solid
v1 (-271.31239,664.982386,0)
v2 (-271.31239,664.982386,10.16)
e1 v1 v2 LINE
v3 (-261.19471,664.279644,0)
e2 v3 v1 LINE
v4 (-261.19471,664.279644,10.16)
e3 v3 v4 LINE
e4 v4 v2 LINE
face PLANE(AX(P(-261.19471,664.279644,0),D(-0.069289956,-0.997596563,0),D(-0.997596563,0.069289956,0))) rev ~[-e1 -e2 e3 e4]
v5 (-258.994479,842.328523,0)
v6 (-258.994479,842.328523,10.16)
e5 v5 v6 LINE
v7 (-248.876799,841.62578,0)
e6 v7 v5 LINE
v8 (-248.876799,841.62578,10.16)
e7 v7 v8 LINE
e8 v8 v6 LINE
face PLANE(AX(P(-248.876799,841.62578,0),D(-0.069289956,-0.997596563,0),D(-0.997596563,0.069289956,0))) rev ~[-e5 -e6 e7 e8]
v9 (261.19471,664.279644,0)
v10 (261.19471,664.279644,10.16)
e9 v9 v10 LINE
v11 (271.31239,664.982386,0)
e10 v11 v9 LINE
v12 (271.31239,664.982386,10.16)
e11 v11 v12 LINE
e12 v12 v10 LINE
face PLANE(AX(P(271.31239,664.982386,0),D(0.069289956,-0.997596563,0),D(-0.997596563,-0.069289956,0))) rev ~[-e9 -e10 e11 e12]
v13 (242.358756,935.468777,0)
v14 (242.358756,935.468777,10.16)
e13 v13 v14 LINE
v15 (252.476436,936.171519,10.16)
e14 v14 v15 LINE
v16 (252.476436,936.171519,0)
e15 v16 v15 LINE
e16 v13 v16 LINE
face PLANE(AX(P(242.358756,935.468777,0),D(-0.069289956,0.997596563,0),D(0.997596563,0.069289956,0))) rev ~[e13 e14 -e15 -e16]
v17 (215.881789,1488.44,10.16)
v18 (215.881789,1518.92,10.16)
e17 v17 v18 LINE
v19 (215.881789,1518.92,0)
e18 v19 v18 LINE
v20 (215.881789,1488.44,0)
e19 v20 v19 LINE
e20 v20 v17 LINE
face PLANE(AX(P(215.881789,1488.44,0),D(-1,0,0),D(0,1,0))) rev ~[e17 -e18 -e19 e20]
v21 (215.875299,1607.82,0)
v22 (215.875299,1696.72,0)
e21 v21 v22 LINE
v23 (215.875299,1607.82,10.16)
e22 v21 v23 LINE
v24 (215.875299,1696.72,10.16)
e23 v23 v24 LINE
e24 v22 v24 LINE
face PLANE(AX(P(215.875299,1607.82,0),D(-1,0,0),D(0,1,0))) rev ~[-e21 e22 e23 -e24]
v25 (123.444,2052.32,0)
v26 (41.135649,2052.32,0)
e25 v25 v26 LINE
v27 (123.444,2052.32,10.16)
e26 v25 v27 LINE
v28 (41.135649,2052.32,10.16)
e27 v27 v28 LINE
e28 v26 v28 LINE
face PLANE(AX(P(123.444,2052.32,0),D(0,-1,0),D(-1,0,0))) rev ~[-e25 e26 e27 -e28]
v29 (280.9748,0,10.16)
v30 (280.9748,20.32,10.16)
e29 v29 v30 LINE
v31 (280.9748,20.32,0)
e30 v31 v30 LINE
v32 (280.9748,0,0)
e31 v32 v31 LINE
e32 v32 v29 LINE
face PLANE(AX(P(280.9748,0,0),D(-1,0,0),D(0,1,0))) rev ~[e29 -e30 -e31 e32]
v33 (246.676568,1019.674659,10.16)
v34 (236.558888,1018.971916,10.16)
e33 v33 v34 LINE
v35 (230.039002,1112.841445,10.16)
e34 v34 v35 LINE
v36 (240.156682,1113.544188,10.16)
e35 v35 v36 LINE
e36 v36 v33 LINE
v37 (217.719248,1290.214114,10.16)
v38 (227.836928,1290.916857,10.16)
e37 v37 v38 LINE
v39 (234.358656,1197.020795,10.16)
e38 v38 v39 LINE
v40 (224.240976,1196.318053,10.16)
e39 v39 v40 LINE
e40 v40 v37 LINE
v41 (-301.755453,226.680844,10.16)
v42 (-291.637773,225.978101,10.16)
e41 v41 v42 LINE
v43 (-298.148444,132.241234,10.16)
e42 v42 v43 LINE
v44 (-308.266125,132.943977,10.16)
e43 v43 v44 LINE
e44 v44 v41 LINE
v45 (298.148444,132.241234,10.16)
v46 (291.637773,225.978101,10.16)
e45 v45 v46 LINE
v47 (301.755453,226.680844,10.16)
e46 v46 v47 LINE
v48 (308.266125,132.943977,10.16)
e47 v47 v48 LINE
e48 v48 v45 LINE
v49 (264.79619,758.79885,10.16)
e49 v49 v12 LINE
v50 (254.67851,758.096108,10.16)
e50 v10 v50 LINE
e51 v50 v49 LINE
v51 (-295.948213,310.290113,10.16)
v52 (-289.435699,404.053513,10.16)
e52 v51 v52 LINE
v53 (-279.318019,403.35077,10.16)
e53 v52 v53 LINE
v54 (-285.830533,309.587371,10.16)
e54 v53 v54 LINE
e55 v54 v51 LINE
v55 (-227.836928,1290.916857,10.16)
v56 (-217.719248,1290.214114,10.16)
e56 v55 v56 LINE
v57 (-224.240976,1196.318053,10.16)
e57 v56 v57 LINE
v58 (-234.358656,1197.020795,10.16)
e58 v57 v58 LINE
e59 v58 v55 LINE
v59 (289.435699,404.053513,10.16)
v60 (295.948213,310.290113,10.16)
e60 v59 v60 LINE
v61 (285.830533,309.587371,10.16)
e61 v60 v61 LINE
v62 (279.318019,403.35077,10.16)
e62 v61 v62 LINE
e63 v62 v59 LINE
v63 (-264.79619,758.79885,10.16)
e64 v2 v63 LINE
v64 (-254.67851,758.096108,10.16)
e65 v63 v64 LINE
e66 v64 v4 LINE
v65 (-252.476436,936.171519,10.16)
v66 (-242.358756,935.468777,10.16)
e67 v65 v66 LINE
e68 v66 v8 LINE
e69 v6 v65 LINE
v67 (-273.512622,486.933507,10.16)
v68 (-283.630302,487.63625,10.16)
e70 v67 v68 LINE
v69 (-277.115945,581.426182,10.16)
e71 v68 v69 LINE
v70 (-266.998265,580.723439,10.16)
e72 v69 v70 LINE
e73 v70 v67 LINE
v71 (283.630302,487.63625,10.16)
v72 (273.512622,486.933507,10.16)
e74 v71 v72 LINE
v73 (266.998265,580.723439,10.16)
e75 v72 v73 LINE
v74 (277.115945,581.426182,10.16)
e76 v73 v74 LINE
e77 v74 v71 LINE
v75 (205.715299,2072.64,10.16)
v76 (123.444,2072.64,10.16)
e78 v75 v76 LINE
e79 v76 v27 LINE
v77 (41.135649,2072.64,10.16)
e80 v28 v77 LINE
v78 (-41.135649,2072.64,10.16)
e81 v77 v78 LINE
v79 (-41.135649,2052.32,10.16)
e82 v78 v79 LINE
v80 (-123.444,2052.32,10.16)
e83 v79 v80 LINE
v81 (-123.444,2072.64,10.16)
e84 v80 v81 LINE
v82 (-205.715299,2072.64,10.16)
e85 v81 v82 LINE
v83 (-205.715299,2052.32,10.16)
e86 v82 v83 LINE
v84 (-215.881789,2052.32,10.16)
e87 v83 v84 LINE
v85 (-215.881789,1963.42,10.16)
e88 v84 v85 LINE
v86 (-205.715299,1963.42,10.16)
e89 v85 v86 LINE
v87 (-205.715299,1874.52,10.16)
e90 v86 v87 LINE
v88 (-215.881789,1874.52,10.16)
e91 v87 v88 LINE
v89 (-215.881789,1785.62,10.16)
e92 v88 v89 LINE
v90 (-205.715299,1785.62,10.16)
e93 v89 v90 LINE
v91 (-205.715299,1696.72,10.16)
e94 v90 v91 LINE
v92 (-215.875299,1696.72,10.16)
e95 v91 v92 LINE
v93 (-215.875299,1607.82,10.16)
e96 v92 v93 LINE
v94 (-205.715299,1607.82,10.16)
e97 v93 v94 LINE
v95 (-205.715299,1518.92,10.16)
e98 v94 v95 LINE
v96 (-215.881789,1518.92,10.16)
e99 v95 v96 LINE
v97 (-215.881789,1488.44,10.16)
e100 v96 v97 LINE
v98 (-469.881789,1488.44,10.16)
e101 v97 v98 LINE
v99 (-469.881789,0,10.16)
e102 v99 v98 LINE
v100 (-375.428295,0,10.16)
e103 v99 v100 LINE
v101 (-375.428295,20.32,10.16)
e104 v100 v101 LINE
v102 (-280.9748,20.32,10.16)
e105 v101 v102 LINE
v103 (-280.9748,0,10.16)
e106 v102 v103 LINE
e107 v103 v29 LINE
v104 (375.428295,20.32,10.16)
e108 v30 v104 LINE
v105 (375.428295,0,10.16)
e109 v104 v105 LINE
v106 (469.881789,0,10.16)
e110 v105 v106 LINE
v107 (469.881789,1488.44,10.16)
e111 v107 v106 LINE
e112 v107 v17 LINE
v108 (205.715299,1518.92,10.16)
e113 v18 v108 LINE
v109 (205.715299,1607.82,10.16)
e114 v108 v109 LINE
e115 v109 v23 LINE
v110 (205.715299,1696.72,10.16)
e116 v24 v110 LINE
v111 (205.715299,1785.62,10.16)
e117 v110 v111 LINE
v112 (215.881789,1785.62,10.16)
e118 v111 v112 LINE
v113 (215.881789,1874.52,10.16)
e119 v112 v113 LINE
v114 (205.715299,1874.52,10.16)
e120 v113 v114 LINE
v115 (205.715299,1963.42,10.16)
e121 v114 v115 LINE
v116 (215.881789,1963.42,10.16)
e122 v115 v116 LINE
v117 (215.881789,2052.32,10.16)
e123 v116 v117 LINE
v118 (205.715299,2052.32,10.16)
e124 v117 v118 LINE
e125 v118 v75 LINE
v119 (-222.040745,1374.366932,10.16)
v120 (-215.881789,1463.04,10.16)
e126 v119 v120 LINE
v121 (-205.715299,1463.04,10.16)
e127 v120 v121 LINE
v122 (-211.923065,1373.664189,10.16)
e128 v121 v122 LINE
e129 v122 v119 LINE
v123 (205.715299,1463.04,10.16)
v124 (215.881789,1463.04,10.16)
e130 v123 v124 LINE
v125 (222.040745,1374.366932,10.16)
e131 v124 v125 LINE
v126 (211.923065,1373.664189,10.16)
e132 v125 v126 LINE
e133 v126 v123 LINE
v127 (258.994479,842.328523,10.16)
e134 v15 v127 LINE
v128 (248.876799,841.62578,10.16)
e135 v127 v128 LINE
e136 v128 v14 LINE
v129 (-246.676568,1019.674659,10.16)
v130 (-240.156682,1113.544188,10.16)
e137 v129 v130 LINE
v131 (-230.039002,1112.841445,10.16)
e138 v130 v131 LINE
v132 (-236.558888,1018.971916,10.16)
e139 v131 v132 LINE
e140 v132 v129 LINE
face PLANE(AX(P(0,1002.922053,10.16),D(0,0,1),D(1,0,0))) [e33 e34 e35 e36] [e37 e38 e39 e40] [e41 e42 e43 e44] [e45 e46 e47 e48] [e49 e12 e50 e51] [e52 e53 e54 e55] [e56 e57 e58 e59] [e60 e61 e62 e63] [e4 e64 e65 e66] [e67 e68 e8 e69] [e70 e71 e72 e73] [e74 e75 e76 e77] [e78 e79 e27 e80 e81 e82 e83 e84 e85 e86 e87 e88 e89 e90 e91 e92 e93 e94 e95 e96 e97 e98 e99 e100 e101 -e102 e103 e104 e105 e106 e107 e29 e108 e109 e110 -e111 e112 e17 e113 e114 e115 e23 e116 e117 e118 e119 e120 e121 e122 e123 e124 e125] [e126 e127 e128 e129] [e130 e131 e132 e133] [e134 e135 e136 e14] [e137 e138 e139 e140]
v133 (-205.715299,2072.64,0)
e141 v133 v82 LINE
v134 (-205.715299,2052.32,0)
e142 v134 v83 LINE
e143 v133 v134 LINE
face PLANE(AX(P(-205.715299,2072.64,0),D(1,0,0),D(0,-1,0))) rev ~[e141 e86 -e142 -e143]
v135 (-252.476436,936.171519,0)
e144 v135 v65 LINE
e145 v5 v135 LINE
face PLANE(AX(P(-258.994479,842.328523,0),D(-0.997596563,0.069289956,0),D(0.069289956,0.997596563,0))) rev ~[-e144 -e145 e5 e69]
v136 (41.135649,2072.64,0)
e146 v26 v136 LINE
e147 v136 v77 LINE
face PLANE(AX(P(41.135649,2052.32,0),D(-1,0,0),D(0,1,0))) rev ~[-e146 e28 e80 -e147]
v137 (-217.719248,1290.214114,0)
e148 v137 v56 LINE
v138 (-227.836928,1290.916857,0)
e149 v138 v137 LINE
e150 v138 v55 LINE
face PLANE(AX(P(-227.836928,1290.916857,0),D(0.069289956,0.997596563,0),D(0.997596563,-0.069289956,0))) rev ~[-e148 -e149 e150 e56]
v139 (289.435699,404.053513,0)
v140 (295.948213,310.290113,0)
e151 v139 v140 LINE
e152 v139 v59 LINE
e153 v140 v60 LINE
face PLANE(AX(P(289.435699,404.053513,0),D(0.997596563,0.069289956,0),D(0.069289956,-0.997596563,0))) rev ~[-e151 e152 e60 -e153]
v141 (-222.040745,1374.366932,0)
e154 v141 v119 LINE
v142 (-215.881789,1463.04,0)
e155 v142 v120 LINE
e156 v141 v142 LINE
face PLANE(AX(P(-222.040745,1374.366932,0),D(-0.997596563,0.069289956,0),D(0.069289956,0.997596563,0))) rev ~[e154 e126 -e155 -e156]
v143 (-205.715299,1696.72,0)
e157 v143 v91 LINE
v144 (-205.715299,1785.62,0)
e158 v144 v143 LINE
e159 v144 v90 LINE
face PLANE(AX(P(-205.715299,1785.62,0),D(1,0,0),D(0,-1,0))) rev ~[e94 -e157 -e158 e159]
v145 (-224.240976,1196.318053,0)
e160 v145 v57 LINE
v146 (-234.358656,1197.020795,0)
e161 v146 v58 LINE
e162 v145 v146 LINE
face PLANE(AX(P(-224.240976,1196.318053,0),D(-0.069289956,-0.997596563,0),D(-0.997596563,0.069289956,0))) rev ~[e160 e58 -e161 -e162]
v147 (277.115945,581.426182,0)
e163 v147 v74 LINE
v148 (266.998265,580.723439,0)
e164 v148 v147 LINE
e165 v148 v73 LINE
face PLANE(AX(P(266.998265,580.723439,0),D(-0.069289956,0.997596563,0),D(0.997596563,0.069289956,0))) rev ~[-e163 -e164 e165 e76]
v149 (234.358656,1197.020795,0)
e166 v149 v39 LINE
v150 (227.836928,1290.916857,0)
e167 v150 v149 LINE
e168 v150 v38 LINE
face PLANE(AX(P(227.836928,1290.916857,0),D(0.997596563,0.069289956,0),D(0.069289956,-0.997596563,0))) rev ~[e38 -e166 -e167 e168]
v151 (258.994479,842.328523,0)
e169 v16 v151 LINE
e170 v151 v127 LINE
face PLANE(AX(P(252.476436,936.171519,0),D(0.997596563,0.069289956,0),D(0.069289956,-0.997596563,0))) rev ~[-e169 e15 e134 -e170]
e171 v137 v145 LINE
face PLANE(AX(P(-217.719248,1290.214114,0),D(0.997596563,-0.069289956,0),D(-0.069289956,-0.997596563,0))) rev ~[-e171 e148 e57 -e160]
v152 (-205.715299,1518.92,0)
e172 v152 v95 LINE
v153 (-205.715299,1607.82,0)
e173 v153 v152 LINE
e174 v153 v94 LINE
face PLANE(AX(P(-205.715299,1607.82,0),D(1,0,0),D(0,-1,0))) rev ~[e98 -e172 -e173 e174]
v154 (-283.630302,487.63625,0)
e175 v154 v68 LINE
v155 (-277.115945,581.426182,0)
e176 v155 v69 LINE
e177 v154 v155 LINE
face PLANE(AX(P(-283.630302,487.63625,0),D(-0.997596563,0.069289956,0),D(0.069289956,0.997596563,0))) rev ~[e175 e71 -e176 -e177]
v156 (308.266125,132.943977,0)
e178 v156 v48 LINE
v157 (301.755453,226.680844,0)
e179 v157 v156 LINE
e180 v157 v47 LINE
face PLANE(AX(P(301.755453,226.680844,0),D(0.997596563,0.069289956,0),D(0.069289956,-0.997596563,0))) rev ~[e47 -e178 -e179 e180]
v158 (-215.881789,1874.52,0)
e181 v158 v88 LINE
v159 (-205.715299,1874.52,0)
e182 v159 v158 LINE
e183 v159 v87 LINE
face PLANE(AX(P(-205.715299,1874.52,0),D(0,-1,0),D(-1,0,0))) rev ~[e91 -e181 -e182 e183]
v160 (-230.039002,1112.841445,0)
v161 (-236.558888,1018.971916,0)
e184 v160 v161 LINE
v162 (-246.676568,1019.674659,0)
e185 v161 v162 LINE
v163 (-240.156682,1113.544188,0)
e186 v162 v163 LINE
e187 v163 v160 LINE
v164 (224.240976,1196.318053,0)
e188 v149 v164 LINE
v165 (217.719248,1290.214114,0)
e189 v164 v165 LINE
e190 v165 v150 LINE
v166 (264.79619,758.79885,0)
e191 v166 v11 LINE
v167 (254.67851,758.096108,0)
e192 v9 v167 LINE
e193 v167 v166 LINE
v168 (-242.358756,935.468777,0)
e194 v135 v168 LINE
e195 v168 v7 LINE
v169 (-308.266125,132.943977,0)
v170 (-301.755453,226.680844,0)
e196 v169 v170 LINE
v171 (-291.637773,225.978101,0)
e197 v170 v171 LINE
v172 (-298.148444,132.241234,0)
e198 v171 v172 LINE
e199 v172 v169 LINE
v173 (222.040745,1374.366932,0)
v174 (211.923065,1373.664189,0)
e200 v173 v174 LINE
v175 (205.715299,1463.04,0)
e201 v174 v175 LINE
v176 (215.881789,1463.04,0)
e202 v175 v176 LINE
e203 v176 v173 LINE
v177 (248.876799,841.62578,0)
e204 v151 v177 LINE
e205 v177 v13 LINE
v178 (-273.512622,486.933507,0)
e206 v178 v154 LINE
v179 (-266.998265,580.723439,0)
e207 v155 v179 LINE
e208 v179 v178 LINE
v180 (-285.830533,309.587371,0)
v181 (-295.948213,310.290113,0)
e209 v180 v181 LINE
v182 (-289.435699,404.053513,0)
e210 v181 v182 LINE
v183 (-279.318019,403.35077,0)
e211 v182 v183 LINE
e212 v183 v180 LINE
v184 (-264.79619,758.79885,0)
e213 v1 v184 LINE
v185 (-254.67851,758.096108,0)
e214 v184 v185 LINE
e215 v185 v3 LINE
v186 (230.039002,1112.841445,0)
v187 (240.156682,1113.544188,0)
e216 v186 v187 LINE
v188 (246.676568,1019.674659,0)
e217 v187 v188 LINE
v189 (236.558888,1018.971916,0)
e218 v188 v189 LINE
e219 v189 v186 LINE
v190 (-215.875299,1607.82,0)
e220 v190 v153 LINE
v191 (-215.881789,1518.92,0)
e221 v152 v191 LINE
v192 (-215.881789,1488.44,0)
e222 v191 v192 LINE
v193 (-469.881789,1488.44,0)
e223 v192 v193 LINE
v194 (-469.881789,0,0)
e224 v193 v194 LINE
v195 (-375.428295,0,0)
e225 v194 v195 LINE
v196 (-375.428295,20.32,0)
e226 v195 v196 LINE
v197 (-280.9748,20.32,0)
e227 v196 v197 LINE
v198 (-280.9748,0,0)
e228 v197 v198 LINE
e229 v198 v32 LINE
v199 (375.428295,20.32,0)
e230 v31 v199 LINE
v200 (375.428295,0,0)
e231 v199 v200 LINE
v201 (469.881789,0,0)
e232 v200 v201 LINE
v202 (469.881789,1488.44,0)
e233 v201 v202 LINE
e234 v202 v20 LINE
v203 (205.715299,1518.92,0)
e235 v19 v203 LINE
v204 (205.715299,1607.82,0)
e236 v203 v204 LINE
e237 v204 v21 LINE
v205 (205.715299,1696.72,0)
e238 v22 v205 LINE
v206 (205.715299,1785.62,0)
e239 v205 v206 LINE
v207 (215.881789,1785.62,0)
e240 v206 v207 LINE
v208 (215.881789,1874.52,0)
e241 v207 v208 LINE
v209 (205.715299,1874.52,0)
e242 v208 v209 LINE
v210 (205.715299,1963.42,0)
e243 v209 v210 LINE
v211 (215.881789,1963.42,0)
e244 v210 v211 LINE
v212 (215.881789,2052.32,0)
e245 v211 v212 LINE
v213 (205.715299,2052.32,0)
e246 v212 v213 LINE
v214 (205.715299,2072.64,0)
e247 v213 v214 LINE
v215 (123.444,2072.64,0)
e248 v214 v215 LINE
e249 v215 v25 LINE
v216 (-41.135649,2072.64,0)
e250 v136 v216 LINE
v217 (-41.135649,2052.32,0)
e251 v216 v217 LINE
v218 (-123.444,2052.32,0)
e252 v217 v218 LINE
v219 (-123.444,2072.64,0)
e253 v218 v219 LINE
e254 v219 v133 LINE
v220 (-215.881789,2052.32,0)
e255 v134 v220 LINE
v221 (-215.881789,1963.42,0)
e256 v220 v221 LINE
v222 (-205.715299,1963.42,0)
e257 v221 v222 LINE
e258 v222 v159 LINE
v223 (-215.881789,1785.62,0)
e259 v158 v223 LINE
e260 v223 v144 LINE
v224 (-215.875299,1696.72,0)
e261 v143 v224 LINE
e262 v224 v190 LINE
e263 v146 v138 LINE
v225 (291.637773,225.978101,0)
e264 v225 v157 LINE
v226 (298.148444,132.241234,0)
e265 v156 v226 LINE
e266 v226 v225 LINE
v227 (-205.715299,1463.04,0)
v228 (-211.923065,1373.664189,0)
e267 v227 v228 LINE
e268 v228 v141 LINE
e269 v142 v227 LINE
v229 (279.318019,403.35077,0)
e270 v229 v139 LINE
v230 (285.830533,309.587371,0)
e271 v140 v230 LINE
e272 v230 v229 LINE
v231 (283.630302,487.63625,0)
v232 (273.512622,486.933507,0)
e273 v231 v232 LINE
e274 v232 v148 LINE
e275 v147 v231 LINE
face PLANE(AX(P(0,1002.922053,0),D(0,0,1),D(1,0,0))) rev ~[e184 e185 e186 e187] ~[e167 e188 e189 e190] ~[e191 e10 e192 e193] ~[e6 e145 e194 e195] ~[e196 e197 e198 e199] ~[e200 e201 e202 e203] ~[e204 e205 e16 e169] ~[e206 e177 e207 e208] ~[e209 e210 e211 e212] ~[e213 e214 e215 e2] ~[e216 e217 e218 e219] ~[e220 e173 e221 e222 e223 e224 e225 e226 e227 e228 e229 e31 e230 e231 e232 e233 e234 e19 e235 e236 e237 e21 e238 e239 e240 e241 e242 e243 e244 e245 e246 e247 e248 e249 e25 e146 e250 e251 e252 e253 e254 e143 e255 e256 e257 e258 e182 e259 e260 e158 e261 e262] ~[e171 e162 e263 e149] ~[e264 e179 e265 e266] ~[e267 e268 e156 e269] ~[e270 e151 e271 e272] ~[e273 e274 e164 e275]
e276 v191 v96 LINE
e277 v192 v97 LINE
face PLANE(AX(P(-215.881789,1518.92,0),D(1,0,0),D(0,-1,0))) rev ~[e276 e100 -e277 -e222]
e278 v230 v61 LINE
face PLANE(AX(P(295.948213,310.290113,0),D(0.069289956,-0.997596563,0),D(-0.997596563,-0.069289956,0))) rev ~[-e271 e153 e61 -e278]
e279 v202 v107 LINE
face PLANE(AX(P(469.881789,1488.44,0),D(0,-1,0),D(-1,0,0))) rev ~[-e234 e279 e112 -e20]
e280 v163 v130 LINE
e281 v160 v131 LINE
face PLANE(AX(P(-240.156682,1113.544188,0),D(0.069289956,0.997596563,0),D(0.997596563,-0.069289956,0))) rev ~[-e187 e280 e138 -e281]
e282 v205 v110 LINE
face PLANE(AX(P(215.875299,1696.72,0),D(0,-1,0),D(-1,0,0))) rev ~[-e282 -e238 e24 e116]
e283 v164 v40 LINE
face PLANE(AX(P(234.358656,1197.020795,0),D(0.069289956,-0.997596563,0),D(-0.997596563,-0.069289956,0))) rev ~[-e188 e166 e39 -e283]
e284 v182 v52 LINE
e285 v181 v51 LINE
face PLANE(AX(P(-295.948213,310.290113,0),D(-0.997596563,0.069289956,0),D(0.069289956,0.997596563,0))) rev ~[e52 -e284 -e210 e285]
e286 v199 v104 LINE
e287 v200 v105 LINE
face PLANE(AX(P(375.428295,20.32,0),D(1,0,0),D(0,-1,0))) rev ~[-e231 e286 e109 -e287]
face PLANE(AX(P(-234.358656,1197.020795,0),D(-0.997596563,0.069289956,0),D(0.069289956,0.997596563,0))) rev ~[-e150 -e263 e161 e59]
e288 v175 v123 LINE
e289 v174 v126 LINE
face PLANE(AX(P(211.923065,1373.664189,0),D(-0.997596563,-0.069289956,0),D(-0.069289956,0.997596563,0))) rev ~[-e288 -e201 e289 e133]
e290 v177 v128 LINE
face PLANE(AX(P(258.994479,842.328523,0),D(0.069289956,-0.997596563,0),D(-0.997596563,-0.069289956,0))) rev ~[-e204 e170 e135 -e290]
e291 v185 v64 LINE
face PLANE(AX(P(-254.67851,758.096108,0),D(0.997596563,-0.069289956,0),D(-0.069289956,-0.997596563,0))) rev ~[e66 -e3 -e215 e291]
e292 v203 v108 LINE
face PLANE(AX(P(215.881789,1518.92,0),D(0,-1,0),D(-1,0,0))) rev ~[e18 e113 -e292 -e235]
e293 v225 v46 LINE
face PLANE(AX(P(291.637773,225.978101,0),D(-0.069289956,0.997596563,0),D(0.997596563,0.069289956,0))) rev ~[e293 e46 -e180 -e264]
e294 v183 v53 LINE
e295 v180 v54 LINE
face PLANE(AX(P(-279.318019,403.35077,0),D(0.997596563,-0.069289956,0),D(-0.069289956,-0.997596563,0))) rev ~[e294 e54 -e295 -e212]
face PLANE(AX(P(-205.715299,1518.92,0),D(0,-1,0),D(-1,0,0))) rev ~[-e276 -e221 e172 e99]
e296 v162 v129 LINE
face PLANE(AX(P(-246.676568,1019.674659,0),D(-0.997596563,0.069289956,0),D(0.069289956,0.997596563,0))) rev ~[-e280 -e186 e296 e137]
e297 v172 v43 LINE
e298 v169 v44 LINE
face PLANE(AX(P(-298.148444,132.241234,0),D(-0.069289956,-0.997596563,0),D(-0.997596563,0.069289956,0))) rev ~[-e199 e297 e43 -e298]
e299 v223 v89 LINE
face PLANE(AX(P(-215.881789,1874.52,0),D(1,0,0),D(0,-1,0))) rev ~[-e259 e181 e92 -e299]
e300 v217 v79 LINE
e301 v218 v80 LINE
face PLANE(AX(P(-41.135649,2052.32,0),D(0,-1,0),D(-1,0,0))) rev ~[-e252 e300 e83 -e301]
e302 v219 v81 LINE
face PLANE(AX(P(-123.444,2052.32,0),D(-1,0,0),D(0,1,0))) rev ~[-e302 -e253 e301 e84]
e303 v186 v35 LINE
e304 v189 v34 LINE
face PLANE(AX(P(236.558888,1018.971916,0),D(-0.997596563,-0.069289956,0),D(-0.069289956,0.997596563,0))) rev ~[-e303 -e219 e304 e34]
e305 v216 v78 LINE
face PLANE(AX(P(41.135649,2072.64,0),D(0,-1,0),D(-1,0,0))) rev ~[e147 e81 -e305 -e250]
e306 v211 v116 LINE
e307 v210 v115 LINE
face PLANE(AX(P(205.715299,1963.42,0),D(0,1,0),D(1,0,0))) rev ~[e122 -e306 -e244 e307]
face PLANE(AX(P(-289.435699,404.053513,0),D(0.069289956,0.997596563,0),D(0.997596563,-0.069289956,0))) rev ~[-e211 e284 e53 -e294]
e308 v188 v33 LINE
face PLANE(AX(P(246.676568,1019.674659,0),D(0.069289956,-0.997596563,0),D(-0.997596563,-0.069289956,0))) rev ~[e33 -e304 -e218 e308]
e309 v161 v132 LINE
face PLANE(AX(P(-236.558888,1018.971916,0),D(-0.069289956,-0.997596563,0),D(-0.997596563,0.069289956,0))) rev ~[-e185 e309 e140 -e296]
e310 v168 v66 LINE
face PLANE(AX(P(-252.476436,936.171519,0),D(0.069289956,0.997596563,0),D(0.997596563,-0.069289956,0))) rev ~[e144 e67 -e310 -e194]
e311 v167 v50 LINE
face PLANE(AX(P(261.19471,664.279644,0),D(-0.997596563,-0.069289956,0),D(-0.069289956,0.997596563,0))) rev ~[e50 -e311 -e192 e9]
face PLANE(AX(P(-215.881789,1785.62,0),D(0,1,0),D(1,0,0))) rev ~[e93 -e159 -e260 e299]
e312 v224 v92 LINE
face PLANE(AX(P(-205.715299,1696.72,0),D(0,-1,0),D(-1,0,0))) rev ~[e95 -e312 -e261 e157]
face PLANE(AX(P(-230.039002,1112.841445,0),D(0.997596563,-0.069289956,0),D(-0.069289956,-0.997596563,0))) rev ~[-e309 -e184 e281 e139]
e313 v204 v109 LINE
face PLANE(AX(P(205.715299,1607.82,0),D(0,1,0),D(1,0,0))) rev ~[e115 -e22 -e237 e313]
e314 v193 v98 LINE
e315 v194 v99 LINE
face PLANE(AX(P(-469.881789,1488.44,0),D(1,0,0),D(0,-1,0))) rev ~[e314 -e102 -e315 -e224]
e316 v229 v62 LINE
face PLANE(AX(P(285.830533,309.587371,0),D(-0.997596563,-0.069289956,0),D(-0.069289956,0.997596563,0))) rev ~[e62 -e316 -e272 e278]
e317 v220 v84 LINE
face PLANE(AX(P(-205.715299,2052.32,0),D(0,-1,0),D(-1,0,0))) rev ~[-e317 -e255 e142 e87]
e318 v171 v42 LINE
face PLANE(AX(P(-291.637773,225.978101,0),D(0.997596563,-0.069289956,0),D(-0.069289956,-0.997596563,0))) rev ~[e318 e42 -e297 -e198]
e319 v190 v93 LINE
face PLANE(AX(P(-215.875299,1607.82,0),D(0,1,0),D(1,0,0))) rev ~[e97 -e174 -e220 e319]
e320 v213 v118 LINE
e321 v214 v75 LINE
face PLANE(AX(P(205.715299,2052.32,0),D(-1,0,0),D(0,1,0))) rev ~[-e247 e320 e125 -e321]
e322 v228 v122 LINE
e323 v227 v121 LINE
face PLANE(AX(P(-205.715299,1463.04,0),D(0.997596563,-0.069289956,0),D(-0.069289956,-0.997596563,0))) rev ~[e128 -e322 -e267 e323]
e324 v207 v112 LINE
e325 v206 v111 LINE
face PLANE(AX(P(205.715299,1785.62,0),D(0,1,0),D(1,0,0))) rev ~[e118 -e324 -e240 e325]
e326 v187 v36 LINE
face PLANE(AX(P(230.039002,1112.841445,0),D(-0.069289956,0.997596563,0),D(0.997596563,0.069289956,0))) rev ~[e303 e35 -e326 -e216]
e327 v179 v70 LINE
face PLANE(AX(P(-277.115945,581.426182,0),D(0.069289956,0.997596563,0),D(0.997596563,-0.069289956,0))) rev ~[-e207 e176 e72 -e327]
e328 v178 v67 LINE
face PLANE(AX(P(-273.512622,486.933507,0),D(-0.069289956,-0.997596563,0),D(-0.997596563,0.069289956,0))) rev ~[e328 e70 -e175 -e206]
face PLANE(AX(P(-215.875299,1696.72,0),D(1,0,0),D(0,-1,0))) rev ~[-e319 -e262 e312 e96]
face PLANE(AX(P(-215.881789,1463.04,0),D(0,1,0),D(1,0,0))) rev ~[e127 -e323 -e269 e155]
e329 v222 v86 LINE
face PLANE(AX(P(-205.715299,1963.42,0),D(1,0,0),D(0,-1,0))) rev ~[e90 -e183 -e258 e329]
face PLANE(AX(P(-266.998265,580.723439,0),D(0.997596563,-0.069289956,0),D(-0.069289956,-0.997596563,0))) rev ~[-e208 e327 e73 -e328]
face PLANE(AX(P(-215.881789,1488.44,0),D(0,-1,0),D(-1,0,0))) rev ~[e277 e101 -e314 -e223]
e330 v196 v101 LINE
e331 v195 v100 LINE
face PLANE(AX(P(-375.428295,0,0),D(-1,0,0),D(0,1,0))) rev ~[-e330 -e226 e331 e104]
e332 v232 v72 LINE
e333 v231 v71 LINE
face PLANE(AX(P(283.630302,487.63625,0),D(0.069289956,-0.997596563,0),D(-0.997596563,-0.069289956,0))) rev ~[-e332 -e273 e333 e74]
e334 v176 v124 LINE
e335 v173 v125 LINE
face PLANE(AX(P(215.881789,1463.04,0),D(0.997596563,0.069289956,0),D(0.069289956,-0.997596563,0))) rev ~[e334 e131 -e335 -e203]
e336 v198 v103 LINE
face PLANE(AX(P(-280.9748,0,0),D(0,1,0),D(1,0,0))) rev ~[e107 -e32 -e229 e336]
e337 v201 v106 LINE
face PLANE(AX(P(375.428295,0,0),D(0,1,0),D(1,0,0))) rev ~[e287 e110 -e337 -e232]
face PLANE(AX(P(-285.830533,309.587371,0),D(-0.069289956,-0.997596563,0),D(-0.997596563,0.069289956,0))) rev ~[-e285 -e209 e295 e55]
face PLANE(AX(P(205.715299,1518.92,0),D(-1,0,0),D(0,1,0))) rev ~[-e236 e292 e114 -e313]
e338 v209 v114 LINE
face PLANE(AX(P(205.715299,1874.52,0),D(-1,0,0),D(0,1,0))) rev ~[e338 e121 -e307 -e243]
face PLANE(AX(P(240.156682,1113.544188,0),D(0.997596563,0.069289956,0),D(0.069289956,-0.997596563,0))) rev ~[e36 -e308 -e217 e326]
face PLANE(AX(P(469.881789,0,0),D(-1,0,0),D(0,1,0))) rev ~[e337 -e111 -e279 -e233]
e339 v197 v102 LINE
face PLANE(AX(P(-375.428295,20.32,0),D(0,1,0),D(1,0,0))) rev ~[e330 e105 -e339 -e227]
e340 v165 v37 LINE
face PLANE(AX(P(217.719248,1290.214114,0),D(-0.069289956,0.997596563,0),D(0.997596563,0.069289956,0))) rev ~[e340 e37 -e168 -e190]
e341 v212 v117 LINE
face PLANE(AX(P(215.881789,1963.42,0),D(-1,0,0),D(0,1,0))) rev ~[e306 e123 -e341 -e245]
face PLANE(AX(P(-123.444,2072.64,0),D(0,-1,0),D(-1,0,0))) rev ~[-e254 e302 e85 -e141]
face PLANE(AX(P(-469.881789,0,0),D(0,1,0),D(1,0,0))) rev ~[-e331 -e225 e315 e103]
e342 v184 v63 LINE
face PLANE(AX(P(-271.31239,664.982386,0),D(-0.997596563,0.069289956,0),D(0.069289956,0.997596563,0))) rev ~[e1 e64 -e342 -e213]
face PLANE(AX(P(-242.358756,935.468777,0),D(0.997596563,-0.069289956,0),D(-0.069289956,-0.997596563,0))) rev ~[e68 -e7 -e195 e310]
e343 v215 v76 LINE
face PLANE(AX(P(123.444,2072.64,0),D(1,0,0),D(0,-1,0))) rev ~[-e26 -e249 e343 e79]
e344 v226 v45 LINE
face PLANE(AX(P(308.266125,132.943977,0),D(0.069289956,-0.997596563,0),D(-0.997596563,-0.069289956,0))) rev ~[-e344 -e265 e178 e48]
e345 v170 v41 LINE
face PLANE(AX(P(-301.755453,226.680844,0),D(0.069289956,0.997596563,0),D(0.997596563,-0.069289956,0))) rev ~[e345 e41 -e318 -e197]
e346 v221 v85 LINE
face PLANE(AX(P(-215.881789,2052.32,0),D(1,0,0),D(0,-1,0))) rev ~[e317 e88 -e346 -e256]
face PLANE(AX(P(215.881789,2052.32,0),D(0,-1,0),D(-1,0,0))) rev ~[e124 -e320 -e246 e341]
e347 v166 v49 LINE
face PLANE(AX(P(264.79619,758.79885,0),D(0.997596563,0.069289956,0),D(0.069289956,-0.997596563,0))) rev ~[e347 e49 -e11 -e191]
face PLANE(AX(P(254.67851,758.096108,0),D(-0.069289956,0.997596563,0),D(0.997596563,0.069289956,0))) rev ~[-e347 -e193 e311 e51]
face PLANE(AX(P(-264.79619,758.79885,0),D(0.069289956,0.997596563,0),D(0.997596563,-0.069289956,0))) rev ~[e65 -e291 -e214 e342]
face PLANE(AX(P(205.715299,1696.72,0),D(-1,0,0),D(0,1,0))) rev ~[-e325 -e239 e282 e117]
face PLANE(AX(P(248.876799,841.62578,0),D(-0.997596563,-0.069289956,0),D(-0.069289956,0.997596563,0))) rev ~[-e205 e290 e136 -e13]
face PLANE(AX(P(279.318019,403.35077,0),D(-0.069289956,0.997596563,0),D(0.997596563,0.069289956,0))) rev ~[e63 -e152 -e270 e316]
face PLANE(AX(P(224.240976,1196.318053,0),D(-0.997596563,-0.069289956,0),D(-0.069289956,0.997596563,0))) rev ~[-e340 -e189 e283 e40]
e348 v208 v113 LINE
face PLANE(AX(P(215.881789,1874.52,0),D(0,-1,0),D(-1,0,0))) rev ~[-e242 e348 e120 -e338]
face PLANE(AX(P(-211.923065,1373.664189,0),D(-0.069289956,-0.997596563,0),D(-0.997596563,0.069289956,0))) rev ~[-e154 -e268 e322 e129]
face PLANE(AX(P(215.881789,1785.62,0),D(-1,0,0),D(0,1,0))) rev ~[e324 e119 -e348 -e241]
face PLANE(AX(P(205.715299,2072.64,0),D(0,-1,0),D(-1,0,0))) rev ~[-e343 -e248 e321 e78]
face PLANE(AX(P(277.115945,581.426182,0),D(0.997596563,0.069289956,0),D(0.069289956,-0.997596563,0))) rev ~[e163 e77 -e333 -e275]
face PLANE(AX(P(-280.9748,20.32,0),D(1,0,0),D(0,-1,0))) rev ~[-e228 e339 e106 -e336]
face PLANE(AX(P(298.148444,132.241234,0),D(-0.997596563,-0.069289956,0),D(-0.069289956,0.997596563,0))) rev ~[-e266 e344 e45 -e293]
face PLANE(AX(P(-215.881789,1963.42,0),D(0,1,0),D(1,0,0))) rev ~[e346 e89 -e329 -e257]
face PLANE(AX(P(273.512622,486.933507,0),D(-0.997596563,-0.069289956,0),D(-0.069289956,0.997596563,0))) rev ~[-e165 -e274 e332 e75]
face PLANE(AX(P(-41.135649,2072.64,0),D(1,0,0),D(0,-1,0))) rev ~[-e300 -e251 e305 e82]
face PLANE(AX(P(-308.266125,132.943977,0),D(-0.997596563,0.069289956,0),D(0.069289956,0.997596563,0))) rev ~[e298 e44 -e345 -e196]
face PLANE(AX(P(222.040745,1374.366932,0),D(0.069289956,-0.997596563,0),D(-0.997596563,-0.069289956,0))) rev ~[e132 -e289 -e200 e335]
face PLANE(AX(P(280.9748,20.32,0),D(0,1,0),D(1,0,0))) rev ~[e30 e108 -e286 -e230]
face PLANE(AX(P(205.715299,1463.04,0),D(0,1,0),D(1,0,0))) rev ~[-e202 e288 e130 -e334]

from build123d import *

# Parameters (mm, degrees)
BOSS_EXTRUDE1_DEPTH = 10.16
SKETCH5_W           = 63.5
SKETCH5_H           = 20.32
CUT_EXTRUDE1_DEPTH  = 2126.25967614


with BuildPart() as part:
    # Sketch1 → Boss-Extrude1 (new body)
    with BuildSketch(Plane.XY):
        Polygon((-123.444, 2072.64), (-205.715298803, 2072.64), (-205.715298803, 2052.32), (-215.881789204, 2052.32), (-215.881789204, 1963.42), (-205.715298803, 1963.42), (-205.715298803, 1874.52), (-215.881789204, 1874.52), (-215.881789204, 1785.62), (-205.715298803, 1785.62), (-205.715298803, 1696.72), (-215.875298803, 1696.72), (-215.875298803, 1607.82), (-205.715298803, 1607.82), (-205.715298803, 1518.92), (-215.881789204, 1518.92), (-215.881789204, 1488.440000035), (-469.881789204, 1488.440000035), (-469.881789204, 0), (-375.428294602, 0), (-375.428294602, 20.32), (-280.9748, 20.32), (-280.9748, 0), (280.9748, 0), (280.9748, 20.32), (375.428294602, 20.32), (375.428294602, 0), (469.881789204, 0), (469.881789204, 1488.440000035), (215.881789204, 1488.440000035), (215.881789204, 1518.92), (205.715298803, 1518.92), (205.715298803, 1607.82), (215.875298803, 1607.82), (215.875298803, 1696.72), (205.715298803, 1696.72), (205.715298803, 1785.62), (215.881789204, 1785.62), (215.881789204, 1874.52), (205.715298803, 1874.52), (205.715298803, 1963.42), (215.881789204, 1963.42), (215.881789204, 2052.32), (205.715298803, 2052.32), (205.715298803, 2072.64), (123.444, 2072.64), (123.444, 2052.32), (41.135649402, 2052.32), (41.135649402, 2072.64), (-41.135649402, 2072.64), (-41.135649402, 2052.32), (-123.444, 2052.32), align=None)
        Polygon((215.881789204, 1463.040000035), (222.040744894, 1374.366931824), (211.92306481, 1373.664189215), (205.715298803, 1463.040000035), align=None, mode=Mode.SUBTRACT)
        Polygon((-205.715298803, 1463.040000035), (-211.92306481, 1373.664189215), (-222.040744894, 1374.366931824), (-215.881789204, 1463.040000035), align=None, mode=Mode.SUBTRACT)
        Polygon((240.15668194, 1113.544188093), (246.676567651, 1019.674658983), (236.558887567, 1018.971916374), (230.039001856, 1112.841445484), align=None, mode=Mode.SUBTRACT)
        Polygon((-308.266124544, 132.94397688), (-301.755453134, 226.680843836), (-291.63777305, 225.978101227), (-298.14844446, 132.241234271), align=None, mode=Mode.SUBTRACT)
        Polygon((-289.435698895, 404.053512688), (-279.318018811, 403.350770078), (-285.830533081, 309.587370692), (-295.948213166, 310.290113301), align=None, mode=Mode.SUBTRACT)
        Polygon((-283.630301787, 487.636249721), (-277.115944656, 581.426181539), (-266.998264572, 580.72343893), (-273.512621703, 486.933507112), align=None, mode=Mode.SUBTRACT)
        Polygon((-264.796190418, 758.798850391), (-254.678510334, 758.096107781), (-261.194710324, 664.279643533), (-271.312390408, 664.982386142), align=None, mode=Mode.SUBTRACT)
        Polygon((-252.476436179, 936.171519242), (-242.358756095, 935.468776633), (-248.876798945, 841.625779953), (-258.99447903, 842.328522563), align=None, mode=Mode.SUBTRACT)
        Polygon((301.755453134, 226.680843836), (308.266124544, 132.94397688), (298.14844446, 132.241234271), (291.63777305, 225.978101227), align=None, mode=Mode.SUBTRACT)
        Polygon((279.318018811, 403.350770078), (289.435698895, 404.053512688), (295.948213166, 310.290113301), (285.830533081, 309.587370692), align=None, mode=Mode.SUBTRACT)
        Polygon((277.115944656, 581.426181539), (283.630301787, 487.636249721), (273.512621703, 486.933507112), (266.998264572, 580.72343893), align=None, mode=Mode.SUBTRACT)
        Polygon((254.678510334, 758.096107781), (264.796190418, 758.798850391), (271.312390408, 664.982386142), (261.194710324, 664.279643533), align=None, mode=Mode.SUBTRACT)
        Polygon((242.358756095, 935.468776633), (252.476436179, 936.171519242), (258.99447903, 842.328522563), (248.876798945, 841.625779953), align=None, mode=Mode.SUBTRACT)
        Polygon((-240.15668194, 1113.544188093), (-230.039001856, 1112.841445484), (-236.558887567, 1018.971916374), (-246.676567651, 1019.674658983), align=None, mode=Mode.SUBTRACT)
        Polygon((-227.836927701, 1290.916856945), (-217.719247617, 1290.214114336), (-224.240976188, 1196.318052795), (-234.358656272, 1197.020795404), align=None, mode=Mode.SUBTRACT)
        Polygon((217.719247617, 1290.214114336), (227.836927701, 1290.916856945), (234.358656272, 1197.020795404), (224.240976188, 1196.318052795), align=None, mode=Mode.SUBTRACT)
    extrude(amount=BOSS_EXTRUDE1_DEPTH)

    # Sketch5 → Cut-Extrude1 (cut, through all)
    with BuildSketch(Plane.XY.offset(10.16)):
        with Locations((-501.631789204, 10.16)):
            Rectangle(SKETCH5_W, SKETCH5_H)
        with Locations((501.631789204, 10.16)):
            Rectangle(SKETCH5_W, SKETCH5_H)
    extrude(amount=-CUT_EXTRUDE1_DEPTH, mode=Mode.SUBTRACT)


solid = part.part
